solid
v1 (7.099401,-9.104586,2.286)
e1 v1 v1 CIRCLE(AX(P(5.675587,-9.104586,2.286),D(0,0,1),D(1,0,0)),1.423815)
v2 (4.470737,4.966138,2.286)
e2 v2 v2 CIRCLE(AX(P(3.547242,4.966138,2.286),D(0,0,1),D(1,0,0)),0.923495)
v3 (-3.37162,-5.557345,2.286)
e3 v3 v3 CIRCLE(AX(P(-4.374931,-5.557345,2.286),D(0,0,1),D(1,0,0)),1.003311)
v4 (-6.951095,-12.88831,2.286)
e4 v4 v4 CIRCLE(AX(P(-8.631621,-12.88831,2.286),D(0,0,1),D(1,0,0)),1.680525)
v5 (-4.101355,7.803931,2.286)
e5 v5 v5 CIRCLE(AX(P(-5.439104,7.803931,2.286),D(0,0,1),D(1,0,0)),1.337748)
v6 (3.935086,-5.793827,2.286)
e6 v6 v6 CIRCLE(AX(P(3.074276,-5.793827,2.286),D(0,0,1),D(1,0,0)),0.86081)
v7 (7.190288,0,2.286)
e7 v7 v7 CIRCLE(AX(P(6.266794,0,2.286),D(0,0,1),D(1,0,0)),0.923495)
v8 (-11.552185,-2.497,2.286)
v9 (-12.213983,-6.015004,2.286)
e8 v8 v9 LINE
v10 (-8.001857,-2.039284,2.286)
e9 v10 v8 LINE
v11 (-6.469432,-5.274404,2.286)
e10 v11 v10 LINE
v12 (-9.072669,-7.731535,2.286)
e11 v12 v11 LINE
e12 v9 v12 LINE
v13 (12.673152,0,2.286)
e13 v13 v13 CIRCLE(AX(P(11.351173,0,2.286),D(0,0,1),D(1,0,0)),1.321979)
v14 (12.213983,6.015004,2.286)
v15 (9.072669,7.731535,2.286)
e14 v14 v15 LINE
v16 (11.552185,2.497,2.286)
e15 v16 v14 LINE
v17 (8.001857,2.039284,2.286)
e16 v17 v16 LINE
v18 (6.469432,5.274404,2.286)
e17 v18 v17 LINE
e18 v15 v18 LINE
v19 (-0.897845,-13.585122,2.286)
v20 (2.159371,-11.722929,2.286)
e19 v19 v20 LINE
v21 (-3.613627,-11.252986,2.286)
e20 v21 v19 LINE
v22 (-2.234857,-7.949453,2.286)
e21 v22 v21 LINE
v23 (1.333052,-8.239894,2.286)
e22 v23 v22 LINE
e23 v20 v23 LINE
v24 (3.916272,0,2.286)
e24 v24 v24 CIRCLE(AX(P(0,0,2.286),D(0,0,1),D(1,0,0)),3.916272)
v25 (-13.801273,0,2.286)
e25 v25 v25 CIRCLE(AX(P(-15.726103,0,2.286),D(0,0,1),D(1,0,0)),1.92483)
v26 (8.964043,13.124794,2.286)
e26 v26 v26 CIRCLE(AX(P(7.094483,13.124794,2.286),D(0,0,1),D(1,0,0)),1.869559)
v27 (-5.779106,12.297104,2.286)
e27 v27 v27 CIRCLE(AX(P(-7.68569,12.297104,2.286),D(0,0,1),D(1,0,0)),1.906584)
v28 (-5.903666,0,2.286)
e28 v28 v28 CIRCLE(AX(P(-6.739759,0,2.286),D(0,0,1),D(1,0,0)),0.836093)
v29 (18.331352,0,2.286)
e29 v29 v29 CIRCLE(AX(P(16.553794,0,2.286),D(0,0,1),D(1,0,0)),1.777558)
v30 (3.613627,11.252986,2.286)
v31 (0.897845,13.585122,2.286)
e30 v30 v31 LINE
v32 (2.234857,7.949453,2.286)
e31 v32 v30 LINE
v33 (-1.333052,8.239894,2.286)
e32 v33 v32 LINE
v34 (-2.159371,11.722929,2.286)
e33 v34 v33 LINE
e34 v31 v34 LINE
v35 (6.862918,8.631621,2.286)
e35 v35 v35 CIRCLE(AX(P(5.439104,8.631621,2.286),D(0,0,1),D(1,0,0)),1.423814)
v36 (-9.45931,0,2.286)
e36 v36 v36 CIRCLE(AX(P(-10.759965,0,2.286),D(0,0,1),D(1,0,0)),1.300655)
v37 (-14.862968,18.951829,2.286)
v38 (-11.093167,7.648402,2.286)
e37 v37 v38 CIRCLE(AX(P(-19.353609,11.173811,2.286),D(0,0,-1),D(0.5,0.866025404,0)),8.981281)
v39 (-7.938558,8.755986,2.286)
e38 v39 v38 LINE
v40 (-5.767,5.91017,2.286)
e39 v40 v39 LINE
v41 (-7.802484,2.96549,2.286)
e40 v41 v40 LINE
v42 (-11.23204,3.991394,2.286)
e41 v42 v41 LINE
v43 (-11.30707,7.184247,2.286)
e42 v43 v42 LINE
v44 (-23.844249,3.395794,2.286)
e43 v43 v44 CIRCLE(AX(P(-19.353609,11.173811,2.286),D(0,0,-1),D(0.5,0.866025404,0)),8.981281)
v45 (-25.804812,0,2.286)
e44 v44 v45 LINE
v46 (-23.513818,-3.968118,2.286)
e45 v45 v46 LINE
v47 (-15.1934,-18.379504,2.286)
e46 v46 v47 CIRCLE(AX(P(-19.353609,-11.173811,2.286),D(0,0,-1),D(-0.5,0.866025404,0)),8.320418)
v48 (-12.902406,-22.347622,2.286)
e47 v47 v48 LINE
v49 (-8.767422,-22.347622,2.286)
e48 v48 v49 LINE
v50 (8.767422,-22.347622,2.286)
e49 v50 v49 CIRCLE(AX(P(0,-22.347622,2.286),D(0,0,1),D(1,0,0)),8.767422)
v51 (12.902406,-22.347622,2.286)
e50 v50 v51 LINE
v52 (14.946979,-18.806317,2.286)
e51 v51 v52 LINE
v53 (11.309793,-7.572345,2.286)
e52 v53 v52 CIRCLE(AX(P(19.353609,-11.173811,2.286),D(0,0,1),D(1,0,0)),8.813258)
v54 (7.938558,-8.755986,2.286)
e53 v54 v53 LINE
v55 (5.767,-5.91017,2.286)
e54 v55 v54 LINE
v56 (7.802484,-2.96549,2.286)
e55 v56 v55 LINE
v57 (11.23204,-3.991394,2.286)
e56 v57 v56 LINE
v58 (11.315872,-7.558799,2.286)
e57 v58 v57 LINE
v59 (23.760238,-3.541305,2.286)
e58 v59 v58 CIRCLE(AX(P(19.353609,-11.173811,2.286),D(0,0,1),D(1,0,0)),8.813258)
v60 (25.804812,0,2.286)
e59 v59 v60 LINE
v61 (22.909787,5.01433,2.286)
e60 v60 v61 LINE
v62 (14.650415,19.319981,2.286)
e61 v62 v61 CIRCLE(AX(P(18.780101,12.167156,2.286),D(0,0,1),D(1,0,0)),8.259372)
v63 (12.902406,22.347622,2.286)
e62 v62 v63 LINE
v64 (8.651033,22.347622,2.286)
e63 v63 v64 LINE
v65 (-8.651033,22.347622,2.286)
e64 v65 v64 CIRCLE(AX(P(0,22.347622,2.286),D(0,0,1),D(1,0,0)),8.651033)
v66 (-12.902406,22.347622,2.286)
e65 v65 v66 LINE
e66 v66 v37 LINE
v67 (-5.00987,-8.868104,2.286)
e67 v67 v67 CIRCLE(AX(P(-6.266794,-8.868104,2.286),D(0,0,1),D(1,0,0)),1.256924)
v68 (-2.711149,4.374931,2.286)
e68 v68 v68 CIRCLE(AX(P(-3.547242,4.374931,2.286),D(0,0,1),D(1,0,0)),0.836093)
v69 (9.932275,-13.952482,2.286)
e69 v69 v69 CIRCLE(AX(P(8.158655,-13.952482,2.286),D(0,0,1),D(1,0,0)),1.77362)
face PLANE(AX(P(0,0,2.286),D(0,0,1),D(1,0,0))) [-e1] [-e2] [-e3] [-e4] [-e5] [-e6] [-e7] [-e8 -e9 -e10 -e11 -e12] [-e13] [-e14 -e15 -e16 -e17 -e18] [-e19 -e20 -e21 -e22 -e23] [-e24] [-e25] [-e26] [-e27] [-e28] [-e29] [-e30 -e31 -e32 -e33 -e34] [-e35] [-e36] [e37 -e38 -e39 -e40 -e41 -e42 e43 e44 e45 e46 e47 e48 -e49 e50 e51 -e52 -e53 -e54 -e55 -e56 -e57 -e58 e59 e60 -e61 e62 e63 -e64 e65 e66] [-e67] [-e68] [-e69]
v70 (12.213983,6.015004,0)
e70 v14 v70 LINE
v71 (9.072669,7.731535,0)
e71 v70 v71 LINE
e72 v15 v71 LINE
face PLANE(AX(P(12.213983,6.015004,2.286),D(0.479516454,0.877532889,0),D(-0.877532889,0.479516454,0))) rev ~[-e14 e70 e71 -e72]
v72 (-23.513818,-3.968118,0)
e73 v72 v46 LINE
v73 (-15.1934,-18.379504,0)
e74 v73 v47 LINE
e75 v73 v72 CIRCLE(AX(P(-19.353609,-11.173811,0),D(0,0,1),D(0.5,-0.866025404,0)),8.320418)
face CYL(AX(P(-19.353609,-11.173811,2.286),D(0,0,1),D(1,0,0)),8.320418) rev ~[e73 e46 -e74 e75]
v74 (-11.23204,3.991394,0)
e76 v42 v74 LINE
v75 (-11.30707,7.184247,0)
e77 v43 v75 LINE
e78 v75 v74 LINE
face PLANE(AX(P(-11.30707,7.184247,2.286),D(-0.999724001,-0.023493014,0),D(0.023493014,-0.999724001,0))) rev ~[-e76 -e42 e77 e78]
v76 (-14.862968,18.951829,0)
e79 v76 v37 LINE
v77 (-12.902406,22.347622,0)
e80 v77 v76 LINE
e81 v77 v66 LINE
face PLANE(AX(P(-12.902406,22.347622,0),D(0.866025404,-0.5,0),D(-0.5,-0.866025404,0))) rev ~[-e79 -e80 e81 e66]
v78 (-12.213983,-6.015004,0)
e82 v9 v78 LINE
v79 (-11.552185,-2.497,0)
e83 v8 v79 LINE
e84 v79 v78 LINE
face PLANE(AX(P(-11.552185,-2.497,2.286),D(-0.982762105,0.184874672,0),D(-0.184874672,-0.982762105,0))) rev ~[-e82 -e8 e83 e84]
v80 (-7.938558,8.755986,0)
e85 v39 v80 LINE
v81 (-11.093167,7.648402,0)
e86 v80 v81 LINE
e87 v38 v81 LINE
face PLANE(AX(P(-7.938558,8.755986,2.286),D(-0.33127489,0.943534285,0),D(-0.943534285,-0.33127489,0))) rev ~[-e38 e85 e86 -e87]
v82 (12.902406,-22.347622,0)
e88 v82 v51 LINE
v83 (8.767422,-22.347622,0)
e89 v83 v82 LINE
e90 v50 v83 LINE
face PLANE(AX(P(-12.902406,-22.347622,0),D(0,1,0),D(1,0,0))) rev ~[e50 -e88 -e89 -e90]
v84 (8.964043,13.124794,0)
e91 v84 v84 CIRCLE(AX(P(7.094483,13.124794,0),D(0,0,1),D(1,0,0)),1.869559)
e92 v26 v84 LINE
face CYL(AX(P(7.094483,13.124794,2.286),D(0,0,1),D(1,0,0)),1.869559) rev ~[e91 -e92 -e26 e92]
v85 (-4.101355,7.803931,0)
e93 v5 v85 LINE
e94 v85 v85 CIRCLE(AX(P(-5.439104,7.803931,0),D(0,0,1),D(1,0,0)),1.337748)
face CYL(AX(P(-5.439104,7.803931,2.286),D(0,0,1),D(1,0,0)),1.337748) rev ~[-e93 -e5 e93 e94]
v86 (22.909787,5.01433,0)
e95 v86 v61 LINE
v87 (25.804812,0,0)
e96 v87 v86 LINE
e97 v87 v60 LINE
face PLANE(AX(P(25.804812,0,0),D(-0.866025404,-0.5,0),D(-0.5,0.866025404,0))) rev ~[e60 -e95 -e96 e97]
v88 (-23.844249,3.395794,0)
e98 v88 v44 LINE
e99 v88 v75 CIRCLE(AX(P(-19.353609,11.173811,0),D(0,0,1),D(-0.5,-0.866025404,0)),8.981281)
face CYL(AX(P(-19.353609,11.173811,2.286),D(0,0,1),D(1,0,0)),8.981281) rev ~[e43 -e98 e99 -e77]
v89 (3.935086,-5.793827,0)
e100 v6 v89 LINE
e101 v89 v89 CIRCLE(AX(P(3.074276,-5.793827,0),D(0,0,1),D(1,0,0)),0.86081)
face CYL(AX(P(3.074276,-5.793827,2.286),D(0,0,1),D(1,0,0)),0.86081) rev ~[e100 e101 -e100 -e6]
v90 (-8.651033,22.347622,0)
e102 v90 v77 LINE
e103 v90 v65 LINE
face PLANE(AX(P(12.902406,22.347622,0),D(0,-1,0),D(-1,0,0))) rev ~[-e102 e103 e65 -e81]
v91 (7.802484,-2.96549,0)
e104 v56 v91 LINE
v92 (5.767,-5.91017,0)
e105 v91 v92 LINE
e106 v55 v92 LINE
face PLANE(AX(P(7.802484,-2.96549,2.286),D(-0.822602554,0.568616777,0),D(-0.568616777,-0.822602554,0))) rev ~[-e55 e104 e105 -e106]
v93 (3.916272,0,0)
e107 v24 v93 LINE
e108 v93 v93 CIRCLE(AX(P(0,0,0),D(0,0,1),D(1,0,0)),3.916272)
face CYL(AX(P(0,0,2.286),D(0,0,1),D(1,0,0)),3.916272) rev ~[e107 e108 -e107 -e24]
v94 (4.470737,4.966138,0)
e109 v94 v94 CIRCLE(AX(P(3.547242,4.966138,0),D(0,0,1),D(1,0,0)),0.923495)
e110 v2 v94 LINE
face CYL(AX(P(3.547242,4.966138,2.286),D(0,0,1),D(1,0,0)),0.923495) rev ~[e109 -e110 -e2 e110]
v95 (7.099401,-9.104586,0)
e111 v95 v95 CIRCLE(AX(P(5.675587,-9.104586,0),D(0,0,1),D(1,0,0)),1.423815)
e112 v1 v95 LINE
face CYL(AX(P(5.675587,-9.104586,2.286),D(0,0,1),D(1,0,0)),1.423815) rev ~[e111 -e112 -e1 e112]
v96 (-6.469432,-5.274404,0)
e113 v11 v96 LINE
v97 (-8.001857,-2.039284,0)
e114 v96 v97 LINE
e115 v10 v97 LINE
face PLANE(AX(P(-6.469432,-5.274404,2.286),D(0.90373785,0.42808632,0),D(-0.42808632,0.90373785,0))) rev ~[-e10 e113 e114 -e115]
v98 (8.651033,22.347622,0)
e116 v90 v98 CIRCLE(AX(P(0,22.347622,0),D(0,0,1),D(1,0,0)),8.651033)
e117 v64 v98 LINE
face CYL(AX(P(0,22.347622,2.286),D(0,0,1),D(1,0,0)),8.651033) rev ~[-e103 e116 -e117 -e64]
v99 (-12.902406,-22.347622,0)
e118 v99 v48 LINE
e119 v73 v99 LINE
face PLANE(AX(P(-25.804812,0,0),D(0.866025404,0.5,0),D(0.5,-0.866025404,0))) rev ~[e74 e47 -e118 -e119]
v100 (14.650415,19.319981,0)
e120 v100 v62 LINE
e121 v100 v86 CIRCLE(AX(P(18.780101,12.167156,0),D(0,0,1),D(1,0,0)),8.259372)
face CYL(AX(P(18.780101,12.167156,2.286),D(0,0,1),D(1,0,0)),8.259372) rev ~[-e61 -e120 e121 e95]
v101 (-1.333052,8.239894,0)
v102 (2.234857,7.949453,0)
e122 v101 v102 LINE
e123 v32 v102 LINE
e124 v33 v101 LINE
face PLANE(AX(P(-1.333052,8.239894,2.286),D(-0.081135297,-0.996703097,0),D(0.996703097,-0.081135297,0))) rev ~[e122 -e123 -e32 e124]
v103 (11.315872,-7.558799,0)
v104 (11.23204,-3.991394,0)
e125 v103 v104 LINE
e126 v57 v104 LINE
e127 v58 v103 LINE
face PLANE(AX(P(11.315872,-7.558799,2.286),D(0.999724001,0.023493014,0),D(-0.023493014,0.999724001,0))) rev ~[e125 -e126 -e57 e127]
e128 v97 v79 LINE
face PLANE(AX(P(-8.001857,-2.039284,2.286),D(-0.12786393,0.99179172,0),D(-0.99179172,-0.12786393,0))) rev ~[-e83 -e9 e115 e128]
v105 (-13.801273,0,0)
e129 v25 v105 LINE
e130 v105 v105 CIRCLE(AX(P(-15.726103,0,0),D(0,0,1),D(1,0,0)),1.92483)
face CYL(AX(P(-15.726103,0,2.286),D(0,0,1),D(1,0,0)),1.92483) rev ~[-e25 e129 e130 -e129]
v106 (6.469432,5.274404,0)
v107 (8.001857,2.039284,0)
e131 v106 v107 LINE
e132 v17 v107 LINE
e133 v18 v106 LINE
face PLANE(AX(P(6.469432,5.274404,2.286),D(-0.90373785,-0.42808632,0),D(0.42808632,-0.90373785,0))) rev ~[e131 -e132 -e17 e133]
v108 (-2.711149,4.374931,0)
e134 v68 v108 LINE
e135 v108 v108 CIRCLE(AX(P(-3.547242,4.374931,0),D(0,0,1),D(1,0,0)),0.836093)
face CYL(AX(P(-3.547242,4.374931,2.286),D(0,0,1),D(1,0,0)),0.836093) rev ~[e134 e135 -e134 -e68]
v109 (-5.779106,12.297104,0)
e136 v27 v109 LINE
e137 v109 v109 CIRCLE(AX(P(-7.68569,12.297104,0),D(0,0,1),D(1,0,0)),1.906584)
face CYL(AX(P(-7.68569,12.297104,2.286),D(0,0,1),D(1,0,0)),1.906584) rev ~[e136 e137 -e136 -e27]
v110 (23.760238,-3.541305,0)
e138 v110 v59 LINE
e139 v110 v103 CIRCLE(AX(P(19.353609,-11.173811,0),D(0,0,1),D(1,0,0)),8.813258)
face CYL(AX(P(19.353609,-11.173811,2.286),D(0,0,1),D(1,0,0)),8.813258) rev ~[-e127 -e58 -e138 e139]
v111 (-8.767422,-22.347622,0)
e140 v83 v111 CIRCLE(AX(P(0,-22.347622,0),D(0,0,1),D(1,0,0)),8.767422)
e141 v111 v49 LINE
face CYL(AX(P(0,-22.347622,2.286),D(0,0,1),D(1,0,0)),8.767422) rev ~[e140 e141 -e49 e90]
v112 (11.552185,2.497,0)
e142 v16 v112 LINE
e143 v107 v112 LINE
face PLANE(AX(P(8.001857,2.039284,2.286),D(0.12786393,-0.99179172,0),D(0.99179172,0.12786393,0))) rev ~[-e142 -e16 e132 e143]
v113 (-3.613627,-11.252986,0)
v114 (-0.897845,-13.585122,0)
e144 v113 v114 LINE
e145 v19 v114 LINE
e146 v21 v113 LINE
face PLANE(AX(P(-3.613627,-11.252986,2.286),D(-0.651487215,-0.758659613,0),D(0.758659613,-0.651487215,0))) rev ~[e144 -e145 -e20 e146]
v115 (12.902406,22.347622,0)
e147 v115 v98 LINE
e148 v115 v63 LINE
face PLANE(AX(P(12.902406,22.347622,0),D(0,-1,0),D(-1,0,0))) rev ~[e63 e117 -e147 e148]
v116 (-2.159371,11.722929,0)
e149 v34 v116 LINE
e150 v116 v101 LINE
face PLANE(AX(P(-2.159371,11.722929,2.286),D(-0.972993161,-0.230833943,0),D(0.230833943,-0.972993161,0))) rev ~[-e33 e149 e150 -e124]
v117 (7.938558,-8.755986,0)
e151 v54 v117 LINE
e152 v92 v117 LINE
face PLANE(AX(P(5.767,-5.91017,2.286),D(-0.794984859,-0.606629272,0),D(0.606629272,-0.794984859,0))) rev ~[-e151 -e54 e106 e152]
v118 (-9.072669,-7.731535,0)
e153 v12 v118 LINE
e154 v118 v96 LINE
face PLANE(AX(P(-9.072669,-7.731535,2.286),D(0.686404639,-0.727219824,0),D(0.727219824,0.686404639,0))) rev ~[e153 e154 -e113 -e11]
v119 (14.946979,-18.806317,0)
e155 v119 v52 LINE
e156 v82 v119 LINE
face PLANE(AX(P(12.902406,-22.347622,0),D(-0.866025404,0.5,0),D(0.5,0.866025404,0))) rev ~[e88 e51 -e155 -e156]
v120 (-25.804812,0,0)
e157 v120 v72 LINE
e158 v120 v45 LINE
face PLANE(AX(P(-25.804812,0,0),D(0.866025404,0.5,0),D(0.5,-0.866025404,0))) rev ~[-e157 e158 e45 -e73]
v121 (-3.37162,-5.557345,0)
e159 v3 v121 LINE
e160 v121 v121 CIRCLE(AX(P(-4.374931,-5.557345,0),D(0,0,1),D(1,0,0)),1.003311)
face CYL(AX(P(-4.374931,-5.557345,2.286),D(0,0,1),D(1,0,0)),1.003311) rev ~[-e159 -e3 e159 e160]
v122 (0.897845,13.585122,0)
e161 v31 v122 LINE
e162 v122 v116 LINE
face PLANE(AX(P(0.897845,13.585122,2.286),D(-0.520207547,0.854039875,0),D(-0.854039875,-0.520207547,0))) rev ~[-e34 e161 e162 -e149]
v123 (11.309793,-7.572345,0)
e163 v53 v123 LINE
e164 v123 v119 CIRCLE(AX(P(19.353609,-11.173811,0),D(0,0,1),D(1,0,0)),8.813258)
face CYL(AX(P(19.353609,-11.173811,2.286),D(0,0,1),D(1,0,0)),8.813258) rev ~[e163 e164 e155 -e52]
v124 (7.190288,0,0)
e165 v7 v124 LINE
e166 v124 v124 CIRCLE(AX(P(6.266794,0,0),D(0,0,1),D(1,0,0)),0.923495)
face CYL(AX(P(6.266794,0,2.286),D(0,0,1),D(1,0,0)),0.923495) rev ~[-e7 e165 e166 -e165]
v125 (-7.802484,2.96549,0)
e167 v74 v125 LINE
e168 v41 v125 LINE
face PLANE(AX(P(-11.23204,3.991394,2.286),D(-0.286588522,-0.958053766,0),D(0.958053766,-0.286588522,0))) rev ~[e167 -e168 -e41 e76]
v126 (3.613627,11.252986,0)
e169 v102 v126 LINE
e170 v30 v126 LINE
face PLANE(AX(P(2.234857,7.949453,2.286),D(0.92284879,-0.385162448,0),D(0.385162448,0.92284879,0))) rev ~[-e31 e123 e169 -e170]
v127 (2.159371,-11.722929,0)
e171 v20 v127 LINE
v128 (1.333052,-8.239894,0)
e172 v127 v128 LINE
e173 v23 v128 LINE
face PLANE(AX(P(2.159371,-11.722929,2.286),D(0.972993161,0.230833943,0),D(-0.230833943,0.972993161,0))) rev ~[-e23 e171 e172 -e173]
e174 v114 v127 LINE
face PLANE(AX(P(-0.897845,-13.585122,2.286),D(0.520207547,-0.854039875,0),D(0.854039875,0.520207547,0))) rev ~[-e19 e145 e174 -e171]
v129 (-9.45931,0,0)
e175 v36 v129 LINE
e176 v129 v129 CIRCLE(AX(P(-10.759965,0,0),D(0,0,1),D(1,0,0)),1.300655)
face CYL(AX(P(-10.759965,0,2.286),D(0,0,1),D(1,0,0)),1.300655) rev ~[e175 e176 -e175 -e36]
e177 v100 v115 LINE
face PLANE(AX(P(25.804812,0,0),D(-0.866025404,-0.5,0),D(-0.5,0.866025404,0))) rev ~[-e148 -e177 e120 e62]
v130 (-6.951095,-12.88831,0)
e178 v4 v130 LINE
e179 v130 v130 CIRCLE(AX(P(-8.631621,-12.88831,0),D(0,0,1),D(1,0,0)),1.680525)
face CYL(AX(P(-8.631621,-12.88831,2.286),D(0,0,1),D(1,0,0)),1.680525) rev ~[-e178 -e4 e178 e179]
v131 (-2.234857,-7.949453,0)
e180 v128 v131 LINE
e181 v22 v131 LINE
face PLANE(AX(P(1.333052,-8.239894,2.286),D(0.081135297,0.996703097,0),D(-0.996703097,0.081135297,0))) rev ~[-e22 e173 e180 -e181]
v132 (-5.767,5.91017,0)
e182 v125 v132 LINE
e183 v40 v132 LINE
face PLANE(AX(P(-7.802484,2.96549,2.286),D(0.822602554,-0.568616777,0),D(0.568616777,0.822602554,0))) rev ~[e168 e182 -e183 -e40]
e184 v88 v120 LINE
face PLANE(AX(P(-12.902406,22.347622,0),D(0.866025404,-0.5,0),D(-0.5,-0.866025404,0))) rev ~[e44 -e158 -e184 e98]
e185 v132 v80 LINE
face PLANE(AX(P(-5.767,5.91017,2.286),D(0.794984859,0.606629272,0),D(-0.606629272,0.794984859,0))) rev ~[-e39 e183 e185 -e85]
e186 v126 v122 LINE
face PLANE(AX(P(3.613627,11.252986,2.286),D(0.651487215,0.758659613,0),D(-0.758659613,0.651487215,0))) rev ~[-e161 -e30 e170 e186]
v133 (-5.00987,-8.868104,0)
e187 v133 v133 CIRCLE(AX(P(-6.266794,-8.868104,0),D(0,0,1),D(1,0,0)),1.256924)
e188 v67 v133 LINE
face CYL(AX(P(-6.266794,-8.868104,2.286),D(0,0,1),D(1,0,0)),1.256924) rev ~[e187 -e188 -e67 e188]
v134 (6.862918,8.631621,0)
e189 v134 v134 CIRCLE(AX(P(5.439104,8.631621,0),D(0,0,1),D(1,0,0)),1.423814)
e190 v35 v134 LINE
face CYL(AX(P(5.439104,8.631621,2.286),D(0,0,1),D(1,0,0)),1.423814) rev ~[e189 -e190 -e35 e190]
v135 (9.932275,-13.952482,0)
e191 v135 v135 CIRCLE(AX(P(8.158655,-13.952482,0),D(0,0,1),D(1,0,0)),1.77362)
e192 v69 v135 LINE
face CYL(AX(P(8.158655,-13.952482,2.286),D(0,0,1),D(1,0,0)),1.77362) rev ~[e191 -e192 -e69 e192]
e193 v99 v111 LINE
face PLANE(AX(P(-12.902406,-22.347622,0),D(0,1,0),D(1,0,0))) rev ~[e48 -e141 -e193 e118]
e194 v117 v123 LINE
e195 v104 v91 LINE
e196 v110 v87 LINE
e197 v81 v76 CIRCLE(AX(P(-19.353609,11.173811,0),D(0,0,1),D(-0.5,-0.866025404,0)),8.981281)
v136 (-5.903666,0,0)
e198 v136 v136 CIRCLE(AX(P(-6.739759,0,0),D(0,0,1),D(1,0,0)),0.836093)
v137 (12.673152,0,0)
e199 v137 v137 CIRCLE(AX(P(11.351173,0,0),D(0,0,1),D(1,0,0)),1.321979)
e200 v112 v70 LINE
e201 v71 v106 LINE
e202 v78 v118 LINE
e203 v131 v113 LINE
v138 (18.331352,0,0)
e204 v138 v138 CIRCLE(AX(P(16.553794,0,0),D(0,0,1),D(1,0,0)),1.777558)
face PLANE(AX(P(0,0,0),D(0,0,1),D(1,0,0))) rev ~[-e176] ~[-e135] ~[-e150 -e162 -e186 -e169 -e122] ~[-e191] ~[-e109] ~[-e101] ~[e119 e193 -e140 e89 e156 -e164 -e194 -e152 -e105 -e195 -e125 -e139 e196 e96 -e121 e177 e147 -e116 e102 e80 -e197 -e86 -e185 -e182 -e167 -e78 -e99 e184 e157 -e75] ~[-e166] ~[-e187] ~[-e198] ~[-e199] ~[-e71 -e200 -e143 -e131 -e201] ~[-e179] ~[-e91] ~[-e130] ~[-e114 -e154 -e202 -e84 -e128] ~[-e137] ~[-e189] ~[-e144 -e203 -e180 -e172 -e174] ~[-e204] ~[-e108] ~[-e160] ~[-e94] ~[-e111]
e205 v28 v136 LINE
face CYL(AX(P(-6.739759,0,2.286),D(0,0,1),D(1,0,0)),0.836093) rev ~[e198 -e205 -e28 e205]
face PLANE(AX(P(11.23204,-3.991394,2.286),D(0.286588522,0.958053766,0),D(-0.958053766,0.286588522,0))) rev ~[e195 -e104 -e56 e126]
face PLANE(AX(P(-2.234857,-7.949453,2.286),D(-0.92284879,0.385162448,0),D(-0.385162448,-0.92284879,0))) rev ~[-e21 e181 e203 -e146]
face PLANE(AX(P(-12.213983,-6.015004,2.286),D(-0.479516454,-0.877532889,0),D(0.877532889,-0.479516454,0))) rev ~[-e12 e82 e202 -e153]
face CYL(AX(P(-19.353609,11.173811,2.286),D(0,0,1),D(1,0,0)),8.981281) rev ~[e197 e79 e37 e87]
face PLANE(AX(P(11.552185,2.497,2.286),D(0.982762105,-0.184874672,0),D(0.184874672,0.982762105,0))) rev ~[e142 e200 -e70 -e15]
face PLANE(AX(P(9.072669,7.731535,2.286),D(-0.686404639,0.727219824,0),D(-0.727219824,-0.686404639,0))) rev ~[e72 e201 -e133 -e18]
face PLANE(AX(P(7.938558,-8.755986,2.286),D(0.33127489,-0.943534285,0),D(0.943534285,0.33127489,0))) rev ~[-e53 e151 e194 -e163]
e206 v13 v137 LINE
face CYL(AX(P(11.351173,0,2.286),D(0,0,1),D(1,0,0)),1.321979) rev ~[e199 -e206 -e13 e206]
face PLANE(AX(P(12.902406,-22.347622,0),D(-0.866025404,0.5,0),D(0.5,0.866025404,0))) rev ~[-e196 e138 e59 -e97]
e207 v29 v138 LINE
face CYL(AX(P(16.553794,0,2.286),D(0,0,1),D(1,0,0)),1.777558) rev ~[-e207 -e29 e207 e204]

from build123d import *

# Parameters (mm, degrees)
F1_DEPTH = 3.81
F2_R     = 14.4183886526
F2_R_2   = 14.9688015553
F2_R_3   = 13.8673627738
F2_R_4   = 14.6123692091
F2_R_5   = 14.6887640566
F2_R_6   = 13.7656196585
F2_R_7   = 6.5271201163
F2_R_8   = 3.1776406916
F2_R_9   = 2.2295804693
F2_R_10  = 1.3934876863
F2_R_11  = 3.1159324266
F2_R_12  = 2.3730237654
F2_R_13  = 1.5391584656
F2_R_14  = 2.962596298
F2_R_15  = 2.2032977608
F2_R_16  = 2.9560338706
F2_R_17  = 2.3730243841
F2_R_18  = 1.4346833287
F2_R_19  = 1.5391578396
F2_R_20  = 2.8008757636
F2_R_21  = 2.094873282
F2_R_22  = 1.672185105
F2_R_23  = 3.2080502358
F2_R_24  = 2.1677587647
F2_R_25  = 1.3934881637
F3_DEPTH = 3.811
F4_SCALE = 0.6
F6_DEPTH = 2.287


with BuildPart() as f1:
    # F0 (on Top) → F1 (new body)
    with BuildSketch(Plane.XY):
        Polygon((21.5040096467, 37.2460372746), (-21.5040096467, 37.2460372746), (-43.0080192935, 0), (-21.5040096467, -37.2460372746), (21.5040096467, -37.2460372746), (43.0080192935, 0), align=None)
    extrude(amount=F1_DEPTH)

    # F2 (on face) → F3 (cut, through all)
    with BuildSketch(Plane.XY.offset(3.81)):
        with Locations((0, 37.2460372746)):
            Circle(F2_R)
        with Locations((-32.2560144701, 18.6230186373)):
            Circle(F2_R_2)
        with Locations((-32.2560144701, -18.6230186373)):
            Circle(F2_R_3)
        with Locations((0, -37.2460372746)):
            Circle(F2_R_4)
        with Locations((32.2560144701, -18.6230186373)):
            Circle(F2_R_5)
        with Locations((31.3001683758, 20.2785926369)):
            Circle(F2_R_6)
        Circle(F2_R_7)
        with Locations((-12.8094833344, 20.49517259)):
            Circle(F2_R_8)
        with Locations((-9.065172635, 13.0065521225)):
            Circle(F2_R_9)
        with Locations((-5.9120692313, 7.2915516794)):
            Circle(F2_R_10)
        with Locations((11.8241384625, 21.8746569008)):
            Circle(F2_R_11)
        with Locations((9.0651735663, 14.3860345706)):
            Circle(F2_R_12)
        with Locations((5.9120692313, 8.2768965513)):
            Circle(F2_R_13)
        with Locations((27.5896564126, 0)):
            Circle(F2_R_14)
        with Locations((18.9186222851, 0)):
            Circle(F2_R_15)
        with Locations((13.5977584869, -23.2541374862)):
            Circle(F2_R_16)
        with Locations((9.4593111426, -15.1743106544)):
            Circle(F2_R_17)
        with Locations((5.1237940788, -9.6563789994)):
            Circle(F2_R_18)
        with Locations((10.4446560144, 0)):
            Circle(F2_R_19)
        with Locations((-14.3860345706, -21.4805174619)):
            Circle(F2_R_20)
        with Locations((-10.4446560144, -14.7801730782)):
            Circle(F2_R_21)
        with Locations((-7.2915512137, -9.2622414231)):
            Circle(F2_R_22)
        with Locations((-26.2101721019, 0)):
            Circle(F2_R_23)
        with Locations((-17.9332755506, 0)):
            Circle(F2_R_24)
        with Locations((-11.2329311669, 0)):
            Circle(F2_R_25)
    extrude(amount=-F3_DEPTH, mode=Mode.SUBTRACT)


with BuildPart() as f1_1:
    # F4: moved
    add(f1.part.scale(F4_SCALE))

    # F5 (on face) → F6 (cut, through all)
    with BuildSketch(Plane.XY.offset(2.286)):
        Polygon((2.2348568425, 7.9494534601), (3.6136271371, 11.252985526), (0.8978448914, 13.585121549), (-2.1593711371, 11.7229288117), (-1.333052308, 8.2398943834), align=None)
        with BuildLine():
            ThreePointArc((-11.0931667862, 7.648402428), (-11.1968162546, 7.4148027366), (-11.3070701633, 7.1842466615))
            Line((-11.3070701633, 7.1842466615), (-11.2320397263, 3.9913941449))
            Line((-11.2320397263, 3.9913941449), (-7.8024840145, 2.9654900284))
            Line((-7.8024840145, 2.9654900284), (-5.7670002214, 5.9101695295))
            Line((-5.7670002214, 5.9101695295), (-7.9385577654, 8.7559856636))
            Line((-7.9385577654, 8.7559856636), (-11.0931667862, 7.648402428))
        make_face()
        Polygon((-6.4694317065, -5.274404355), (-8.0018570639, -2.0392839306), (-11.5521849025, -2.4969998625), (-12.2139828207, -6.0150042899), (-9.0726685891, -7.7315346668), align=None)
        Polygon((-2.2348568425, -7.9494534601), (-3.6136271371, -11.252985526), (-0.8978448914, -13.585121549), (2.1593711371, -11.7229288117), (1.333052308, -8.2398943834), align=None)
        with BuildLine():
            Line((5.7670002214, -5.9101695295), (7.9385577654, -8.7559856636))
            Line((7.9385577654, -8.7559856636), (11.3097934002, -7.5723448233))
            ThreePointArc((11.3097934002, -7.5723448233), (11.3128298264, -7.5655706667), (11.3158719575, -7.5587990702))
            Line((11.3158719575, -7.5587990702), (11.2320397263, -3.9913941449))
            Line((11.2320397263, -3.9913941449), (7.8024840145, -2.9654900284))
            Line((7.8024840145, -2.9654900284), (5.7670002214, -5.9101695295))
        make_face()
        Polygon((8.0018570639, 2.0392839306), (11.5521849025, 2.4969998625), (12.2139828207, 6.0150042899), (9.0726685891, 7.7315346668), (6.4694317065, 5.274404355), align=None)
    extrude(amount=-F6_DEPTH, mode=Mode.SUBTRACT)


solid = f1_1.part
